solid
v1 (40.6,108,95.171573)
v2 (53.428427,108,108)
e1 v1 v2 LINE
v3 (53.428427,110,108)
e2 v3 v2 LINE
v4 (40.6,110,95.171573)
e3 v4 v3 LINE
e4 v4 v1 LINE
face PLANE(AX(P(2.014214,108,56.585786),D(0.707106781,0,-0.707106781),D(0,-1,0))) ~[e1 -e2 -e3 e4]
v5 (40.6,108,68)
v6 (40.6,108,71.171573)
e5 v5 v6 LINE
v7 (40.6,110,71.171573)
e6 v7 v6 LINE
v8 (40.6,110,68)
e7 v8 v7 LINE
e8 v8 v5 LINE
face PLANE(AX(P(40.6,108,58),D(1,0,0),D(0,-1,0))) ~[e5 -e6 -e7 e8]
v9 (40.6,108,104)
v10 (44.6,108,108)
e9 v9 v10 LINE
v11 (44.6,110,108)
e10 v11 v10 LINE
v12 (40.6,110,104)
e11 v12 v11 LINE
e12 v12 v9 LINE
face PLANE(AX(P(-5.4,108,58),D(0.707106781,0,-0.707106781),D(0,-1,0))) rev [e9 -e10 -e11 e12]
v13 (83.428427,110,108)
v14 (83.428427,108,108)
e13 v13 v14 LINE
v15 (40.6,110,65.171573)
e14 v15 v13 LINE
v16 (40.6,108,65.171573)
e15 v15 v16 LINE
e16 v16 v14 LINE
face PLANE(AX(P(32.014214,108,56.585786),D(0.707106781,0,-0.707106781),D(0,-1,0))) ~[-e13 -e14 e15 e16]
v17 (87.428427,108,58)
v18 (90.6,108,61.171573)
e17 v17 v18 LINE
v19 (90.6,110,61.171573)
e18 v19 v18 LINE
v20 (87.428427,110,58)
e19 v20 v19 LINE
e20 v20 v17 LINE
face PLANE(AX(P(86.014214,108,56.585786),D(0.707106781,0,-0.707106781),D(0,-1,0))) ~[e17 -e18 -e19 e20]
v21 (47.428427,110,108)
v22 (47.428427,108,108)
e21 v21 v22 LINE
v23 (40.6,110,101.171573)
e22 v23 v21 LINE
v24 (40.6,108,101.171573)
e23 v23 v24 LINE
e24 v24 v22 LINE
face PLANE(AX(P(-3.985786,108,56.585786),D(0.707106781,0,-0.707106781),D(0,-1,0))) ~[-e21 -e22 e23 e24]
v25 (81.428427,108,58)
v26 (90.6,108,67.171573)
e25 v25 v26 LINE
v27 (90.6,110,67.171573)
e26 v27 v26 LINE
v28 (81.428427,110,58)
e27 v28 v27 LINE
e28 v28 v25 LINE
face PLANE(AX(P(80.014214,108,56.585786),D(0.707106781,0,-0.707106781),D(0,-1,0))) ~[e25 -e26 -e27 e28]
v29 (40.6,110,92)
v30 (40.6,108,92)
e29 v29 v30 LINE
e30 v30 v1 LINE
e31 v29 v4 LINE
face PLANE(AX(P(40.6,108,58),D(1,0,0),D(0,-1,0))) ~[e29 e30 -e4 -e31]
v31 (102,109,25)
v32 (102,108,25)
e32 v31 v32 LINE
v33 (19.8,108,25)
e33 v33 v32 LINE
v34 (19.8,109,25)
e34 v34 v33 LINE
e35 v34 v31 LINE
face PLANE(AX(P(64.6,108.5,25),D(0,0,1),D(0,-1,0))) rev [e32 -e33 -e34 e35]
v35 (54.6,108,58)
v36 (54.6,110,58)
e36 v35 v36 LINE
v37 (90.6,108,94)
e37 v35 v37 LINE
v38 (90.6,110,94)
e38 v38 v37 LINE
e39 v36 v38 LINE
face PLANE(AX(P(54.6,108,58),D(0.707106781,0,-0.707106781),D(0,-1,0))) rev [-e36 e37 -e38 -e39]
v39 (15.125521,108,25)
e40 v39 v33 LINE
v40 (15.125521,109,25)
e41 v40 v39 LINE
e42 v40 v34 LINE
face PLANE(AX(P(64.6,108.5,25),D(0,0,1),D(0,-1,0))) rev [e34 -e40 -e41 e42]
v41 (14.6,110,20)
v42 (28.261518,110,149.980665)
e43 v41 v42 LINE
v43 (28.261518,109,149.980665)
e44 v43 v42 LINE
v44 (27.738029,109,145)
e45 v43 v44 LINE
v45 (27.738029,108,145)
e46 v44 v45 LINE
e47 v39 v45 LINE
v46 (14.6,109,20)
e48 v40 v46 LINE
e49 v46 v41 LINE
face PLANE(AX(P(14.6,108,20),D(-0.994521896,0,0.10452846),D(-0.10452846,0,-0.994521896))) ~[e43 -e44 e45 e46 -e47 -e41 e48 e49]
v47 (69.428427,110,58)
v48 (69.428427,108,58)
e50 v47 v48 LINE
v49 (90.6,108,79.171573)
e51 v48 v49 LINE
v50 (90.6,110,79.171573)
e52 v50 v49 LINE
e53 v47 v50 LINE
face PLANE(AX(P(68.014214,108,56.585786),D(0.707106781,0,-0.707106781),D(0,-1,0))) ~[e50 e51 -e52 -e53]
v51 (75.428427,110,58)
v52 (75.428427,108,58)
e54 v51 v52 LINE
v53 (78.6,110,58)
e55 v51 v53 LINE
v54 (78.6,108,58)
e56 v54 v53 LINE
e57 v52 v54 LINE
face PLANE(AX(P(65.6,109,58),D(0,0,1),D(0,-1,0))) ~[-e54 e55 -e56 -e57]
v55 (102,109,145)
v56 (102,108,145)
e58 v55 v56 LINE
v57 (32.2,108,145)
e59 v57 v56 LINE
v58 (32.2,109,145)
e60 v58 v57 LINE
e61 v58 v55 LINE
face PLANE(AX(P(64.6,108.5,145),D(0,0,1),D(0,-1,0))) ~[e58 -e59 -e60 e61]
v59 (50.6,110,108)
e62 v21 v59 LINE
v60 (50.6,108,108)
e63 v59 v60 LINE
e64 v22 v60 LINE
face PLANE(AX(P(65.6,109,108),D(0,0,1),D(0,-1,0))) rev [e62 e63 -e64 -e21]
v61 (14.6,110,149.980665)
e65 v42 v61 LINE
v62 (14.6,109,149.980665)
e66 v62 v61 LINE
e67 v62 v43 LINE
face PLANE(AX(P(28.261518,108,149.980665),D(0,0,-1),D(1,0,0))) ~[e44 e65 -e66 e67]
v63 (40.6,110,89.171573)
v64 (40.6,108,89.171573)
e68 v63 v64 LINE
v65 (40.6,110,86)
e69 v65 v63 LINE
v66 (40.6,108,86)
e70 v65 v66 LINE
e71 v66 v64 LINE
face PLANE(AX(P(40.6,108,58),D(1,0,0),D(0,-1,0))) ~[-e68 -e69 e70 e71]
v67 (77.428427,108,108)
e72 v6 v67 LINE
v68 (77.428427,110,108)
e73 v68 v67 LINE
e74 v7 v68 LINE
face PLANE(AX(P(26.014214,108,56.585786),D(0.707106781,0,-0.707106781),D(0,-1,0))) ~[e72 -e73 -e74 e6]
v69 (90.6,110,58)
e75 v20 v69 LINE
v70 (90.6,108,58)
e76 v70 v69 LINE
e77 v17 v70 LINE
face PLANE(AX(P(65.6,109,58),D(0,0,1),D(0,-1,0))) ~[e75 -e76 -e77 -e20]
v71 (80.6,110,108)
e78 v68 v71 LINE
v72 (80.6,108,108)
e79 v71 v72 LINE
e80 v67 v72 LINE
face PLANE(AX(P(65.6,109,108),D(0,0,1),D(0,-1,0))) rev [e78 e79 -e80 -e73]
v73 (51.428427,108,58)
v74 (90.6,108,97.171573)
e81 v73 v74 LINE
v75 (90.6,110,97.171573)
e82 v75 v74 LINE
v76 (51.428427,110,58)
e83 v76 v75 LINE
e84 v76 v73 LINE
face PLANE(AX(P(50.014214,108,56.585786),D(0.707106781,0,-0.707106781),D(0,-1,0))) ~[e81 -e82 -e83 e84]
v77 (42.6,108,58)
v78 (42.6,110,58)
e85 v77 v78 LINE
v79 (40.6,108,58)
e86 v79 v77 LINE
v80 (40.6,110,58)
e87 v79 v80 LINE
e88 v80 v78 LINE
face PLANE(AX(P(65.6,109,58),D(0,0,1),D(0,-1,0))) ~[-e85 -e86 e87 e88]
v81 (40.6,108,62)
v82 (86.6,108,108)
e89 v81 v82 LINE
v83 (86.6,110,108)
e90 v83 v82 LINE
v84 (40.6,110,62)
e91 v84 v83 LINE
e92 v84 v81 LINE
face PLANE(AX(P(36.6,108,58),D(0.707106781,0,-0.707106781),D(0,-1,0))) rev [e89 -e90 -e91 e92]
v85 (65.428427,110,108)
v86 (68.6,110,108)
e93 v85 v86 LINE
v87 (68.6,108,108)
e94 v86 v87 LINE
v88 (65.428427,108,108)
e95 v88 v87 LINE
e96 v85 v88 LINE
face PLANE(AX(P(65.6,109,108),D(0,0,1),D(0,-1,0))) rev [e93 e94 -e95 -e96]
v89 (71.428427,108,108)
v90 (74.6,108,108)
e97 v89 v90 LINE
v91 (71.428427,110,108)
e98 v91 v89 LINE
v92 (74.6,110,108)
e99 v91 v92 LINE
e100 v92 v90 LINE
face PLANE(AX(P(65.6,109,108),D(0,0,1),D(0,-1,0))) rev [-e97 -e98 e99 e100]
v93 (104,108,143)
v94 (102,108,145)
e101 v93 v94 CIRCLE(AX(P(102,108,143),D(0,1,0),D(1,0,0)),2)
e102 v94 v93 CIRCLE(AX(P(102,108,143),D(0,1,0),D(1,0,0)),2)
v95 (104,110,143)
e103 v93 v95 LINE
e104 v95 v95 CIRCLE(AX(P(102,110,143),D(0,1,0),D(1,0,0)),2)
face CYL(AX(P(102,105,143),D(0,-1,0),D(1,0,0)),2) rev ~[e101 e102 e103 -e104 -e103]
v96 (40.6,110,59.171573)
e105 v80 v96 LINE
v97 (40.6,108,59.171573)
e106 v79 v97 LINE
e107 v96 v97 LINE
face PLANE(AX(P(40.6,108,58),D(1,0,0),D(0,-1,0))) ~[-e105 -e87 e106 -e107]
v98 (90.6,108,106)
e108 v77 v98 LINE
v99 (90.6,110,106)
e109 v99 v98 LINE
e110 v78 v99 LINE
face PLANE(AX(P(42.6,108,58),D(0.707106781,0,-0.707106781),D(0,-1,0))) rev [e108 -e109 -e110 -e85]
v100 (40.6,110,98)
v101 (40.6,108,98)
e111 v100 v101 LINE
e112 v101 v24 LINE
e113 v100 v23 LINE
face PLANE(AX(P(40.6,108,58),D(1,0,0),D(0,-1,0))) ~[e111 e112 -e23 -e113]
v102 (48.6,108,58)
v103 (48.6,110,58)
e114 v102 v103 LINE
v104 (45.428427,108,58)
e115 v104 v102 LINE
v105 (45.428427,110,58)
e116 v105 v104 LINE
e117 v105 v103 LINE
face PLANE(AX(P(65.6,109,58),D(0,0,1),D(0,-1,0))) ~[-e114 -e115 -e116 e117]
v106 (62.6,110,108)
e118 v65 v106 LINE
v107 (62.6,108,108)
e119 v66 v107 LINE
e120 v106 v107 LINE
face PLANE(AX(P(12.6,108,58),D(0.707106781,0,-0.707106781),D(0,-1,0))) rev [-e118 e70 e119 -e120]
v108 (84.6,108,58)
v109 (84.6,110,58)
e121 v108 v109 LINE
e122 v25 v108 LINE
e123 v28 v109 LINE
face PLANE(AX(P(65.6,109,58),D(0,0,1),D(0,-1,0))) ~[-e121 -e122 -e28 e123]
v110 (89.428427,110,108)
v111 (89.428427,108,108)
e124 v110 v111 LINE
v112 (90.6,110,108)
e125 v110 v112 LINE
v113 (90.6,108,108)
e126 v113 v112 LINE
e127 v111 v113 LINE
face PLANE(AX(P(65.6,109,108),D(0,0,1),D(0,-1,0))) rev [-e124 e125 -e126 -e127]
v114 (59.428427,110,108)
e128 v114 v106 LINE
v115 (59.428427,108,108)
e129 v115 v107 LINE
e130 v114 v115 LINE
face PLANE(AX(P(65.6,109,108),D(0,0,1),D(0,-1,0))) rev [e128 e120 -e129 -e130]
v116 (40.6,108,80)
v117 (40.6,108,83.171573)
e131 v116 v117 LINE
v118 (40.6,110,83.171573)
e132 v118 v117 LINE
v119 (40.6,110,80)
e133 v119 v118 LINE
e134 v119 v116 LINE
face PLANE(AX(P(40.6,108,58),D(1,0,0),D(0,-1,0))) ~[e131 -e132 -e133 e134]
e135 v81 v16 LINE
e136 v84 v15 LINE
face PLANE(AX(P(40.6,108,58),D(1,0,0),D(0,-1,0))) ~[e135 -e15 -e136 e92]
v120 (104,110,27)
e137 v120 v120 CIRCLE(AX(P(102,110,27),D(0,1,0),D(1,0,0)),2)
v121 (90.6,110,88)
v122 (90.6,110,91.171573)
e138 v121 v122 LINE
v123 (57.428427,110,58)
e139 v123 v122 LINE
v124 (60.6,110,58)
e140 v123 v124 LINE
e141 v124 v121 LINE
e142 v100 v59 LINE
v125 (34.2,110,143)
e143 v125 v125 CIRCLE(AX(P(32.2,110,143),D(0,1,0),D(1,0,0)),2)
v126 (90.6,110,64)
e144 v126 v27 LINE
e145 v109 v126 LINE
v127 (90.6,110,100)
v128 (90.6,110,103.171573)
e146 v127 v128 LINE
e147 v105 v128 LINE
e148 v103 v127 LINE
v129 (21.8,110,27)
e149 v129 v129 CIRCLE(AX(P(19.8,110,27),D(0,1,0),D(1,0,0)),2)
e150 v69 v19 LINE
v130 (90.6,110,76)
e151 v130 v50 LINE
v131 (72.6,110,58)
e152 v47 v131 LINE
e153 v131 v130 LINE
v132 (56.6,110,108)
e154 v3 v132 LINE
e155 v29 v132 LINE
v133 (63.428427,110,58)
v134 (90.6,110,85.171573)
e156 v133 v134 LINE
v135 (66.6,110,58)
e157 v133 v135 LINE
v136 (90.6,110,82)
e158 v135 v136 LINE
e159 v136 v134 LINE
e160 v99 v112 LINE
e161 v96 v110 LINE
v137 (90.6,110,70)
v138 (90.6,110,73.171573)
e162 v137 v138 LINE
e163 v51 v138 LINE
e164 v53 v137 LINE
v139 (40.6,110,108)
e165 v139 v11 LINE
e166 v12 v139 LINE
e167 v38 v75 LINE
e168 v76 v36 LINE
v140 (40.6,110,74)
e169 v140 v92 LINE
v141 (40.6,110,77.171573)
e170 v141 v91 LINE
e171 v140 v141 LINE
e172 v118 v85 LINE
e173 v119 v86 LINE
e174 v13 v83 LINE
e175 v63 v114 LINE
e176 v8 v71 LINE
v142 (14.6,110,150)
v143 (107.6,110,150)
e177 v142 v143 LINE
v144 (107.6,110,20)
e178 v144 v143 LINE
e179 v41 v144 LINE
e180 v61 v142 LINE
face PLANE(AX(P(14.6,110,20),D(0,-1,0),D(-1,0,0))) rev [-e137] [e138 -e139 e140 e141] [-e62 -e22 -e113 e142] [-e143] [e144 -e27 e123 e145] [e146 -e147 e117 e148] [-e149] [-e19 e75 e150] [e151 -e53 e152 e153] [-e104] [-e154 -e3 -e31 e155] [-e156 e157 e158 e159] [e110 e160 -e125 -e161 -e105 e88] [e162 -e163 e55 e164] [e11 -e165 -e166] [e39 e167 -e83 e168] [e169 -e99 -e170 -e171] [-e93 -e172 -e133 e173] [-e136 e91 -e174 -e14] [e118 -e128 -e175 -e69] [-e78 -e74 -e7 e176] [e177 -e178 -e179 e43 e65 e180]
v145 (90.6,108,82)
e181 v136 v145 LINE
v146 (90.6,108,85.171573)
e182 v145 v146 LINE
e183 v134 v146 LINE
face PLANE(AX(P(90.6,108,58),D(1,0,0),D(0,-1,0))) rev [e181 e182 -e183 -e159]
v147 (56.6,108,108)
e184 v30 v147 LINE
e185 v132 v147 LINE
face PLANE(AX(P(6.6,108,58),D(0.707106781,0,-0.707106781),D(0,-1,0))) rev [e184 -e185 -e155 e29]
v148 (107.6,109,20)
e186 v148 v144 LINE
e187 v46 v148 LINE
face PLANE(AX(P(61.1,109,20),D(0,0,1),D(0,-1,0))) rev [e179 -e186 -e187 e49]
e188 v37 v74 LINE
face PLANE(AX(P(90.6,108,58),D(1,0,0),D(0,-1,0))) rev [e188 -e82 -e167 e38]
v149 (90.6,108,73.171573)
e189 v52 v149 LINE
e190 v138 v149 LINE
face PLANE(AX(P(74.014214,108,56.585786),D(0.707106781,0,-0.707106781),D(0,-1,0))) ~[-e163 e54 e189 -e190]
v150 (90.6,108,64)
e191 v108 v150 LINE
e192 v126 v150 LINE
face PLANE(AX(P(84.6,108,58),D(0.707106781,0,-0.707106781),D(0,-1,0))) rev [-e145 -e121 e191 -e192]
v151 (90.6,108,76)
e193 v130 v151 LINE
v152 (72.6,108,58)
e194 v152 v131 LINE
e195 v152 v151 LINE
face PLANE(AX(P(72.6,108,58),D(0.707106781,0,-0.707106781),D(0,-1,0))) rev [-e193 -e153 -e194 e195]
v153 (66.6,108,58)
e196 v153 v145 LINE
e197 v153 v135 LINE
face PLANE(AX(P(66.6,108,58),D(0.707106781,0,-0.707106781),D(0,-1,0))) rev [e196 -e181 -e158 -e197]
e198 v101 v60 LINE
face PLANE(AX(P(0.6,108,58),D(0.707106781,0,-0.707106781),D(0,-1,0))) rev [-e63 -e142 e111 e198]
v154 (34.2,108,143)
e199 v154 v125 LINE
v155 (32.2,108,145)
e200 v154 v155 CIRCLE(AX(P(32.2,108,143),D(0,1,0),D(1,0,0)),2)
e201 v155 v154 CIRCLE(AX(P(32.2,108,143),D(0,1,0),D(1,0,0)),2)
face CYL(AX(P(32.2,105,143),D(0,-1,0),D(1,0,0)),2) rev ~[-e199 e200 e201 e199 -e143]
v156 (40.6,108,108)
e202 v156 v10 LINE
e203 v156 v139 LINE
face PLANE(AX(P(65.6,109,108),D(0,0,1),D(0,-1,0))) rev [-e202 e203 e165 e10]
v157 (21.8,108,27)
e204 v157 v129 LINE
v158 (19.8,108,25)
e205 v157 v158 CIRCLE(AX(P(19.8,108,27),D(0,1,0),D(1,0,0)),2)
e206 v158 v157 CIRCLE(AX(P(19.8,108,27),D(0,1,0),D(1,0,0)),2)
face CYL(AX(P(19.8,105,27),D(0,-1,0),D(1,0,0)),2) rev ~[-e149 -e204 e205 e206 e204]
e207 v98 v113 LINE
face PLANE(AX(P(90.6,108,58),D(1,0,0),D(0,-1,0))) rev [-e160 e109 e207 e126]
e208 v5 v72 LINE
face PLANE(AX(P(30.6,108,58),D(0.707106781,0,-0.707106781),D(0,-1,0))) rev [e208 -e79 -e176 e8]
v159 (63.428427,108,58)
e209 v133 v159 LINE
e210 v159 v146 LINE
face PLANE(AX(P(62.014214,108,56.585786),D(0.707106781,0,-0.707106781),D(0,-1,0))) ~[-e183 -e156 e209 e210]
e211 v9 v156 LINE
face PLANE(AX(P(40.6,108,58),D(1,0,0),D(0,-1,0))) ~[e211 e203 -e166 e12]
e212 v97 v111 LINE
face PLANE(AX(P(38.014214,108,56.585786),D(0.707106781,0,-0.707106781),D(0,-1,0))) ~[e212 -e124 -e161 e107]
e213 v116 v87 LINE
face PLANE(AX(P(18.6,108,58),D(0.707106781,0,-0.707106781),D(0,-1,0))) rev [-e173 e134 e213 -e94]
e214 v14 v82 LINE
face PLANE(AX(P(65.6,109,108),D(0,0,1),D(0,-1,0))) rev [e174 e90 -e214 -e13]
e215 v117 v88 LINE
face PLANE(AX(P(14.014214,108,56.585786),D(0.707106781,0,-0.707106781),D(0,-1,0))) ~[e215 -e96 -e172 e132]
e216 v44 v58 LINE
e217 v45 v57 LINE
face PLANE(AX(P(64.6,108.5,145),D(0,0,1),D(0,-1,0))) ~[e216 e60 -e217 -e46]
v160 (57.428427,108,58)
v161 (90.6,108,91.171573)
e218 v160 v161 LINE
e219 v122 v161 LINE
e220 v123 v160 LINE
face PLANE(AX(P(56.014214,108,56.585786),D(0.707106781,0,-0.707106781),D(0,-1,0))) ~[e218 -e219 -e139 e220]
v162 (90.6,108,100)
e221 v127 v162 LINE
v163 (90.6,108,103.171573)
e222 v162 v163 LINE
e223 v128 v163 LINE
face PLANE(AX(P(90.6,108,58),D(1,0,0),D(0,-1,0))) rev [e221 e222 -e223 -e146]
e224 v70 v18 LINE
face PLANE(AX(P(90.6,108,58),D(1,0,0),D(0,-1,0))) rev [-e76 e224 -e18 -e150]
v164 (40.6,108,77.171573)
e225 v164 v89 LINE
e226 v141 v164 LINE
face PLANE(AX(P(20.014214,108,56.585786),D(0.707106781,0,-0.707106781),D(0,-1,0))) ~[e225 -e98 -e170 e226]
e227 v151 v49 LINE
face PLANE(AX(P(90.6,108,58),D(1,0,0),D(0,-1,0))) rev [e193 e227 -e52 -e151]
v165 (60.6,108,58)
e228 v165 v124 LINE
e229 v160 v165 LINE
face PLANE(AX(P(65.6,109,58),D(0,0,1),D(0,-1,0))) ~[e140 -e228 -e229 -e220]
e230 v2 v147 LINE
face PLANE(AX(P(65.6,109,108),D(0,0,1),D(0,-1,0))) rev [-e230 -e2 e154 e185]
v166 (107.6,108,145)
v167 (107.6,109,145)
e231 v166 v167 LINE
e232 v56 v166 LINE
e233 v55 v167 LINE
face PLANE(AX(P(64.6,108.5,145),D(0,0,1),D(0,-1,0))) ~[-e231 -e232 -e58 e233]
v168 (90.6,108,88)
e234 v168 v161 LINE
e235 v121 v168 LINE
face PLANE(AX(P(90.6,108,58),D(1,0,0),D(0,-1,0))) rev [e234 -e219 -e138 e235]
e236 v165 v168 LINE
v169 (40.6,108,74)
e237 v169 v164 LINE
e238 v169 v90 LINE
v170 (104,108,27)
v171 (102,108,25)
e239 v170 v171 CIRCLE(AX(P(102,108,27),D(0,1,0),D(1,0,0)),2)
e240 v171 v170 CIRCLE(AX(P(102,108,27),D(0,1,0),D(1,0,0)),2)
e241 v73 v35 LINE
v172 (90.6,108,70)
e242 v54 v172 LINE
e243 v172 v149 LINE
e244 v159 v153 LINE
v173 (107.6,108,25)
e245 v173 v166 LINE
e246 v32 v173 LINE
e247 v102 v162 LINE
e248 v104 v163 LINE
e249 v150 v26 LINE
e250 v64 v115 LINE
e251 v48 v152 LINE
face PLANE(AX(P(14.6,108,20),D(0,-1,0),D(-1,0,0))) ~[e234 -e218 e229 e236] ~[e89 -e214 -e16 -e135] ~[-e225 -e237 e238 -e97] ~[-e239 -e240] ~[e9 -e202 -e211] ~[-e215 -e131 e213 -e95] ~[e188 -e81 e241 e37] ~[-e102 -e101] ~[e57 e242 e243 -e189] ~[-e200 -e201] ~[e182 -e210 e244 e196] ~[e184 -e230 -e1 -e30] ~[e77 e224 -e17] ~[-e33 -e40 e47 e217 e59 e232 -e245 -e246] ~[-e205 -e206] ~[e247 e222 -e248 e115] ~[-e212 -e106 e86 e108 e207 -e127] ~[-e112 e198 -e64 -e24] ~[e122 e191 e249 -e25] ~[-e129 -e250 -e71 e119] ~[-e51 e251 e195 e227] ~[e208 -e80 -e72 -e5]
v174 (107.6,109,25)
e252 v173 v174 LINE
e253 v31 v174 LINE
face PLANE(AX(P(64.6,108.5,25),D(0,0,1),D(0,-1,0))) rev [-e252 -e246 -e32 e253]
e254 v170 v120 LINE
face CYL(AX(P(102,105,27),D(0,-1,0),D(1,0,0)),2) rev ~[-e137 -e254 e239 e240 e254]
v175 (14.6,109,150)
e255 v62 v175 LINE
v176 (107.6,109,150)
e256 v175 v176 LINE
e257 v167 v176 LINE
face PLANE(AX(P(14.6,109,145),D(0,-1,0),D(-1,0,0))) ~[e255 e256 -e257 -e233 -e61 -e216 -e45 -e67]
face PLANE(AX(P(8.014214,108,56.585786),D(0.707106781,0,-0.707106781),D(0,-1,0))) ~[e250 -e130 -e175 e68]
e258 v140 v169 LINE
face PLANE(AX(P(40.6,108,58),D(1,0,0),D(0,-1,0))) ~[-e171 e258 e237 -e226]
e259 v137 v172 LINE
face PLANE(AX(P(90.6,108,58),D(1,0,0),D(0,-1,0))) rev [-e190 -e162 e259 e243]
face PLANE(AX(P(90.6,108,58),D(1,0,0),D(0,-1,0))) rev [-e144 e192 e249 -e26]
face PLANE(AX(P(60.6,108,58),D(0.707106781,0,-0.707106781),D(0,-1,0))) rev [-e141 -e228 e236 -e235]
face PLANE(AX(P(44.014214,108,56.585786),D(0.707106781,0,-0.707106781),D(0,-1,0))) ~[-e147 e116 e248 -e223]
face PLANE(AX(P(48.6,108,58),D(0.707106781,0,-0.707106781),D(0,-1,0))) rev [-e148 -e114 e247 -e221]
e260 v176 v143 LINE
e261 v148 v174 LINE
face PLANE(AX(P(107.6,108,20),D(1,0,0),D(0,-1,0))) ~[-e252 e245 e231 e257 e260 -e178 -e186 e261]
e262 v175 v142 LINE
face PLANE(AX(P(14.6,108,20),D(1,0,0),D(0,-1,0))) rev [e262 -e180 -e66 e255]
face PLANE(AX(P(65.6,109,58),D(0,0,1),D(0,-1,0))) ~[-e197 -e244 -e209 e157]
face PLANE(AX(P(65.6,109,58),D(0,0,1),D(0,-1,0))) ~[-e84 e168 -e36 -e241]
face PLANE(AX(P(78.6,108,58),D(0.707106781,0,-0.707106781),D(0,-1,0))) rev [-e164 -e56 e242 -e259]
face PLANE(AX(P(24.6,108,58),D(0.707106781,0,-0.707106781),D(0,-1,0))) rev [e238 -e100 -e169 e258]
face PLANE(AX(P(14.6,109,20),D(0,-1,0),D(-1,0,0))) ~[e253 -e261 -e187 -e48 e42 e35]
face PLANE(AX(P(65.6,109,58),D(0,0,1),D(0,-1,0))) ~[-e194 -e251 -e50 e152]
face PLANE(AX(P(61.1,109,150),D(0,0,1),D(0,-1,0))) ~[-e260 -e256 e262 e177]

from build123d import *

# Parameters (mm, degrees)
CYLINDER074_R          = 2
CYLINDER074_DEPTH      = 10
CYLINDER073_R          = 2
CYLINDER073_DEPTH      = 10
CYLINDER075_R          = 2
CYLINDER075_DEPTH      = 10
CYLINDER076_R          = 2
CYLINDER076_DEPTH      = 10
BOX103_W               = 1
BOX103_H               = 100
BOX103_DEPTH           = 5
BOX102_W               = 1
BOX102_H               = 100
BOX102_DEPTH           = 5
BOX100_W               = 2
BOX100_H               = 2
BOX100_DEPTH           = 80
BOX100_PLACEMENT_ANGLE = 45
BOX101_W               = 2
BOX101_H               = 2
BOX101_DEPTH           = 80
BOX101_PLACEMENT_ANGLE = 45
BOX097_W               = 2
BOX097_H               = 2
BOX097_DEPTH           = 80
BOX097_PLACEMENT_ANGLE = 45
BOX096_W               = 2
BOX096_H               = 2
BOX096_DEPTH           = 80
BOX096_PLACEMENT_ANGLE = 45
BOX095_W               = 2
BOX095_H               = 2
BOX095_DEPTH           = 80
BOX095_PLACEMENT_ANGLE = 45
BOX094_W               = 2
BOX094_H               = 2
BOX094_DEPTH           = 80
BOX094_PLACEMENT_ANGLE = 45
BOX093_W               = 2
BOX093_H               = 2
BOX093_DEPTH           = 80
BOX093_PLACEMENT_ANGLE = 45
BOX092_W               = 2
BOX092_H               = 2
BOX092_DEPTH           = 80
BOX092_PLACEMENT_ANGLE = 45
BOX091_W               = 2
BOX091_H               = 2
BOX091_DEPTH           = 80
BOX091_PLACEMENT_ANGLE = 45
BOX090_W               = 2
BOX090_H               = 2
BOX090_DEPTH           = 80
BOX090_PLACEMENT_ANGLE = 45
BOX089_W               = 2
BOX089_H               = 2
BOX089_DEPTH           = 80
BOX089_PLACEMENT_ANGLE = 45
BOX088_W               = 2
BOX088_H               = 2
BOX088_DEPTH           = 80
BOX088_PLACEMENT_ANGLE = 45
BOX087_W               = 2
BOX087_H               = 2
BOX087_DEPTH           = 80
BOX087_PLACEMENT_ANGLE = 45
BOX086_W               = 2
BOX086_H               = 2
BOX086_DEPTH           = 80
BOX086_PLACEMENT_ANGLE = 45
BOX084_W               = 2
BOX084_H               = 2
BOX084_DEPTH           = 80
BOX084_PLACEMENT_ANGLE = 45
BOX085_W               = 2
BOX085_H               = 2
BOX085_DEPTH           = 80
BOX085_PLACEMENT_ANGLE = 45
BOX099_W               = 2
BOX099_H               = 2
BOX099_DEPTH           = 80
BOX099_PLACEMENT_ANGLE = 45
BOX098_W               = 2
BOX098_H               = 50
BOX098_DEPTH           = 50
PAD014_DEPTH           = 5
BOX083_W               = 2
BOX083_H               = 93
BOX083_DEPTH           = 130
CUT076_PLACEMENT_ANGLE = 90


with BuildPart() as cylinder043:
    # Cylinder074 → Cylinder074 (new body)
    with BuildSketch(Plane(origin=(102, 0, 27), x_dir=(1, 0, 0), z_dir=(0, -1, 0))):
        Circle(CYLINDER074_R)
    extrude(amount=CYLINDER074_DEPTH)


with BuildPart() as cylinder042:
    # Cylinder073 → Cylinder073 (new body)
    with BuildSketch(Plane(origin=(19.8, 0, 27), x_dir=(1, 0, 0), z_dir=(0, -1, 0))):
        Circle(CYLINDER073_R)
    extrude(amount=CYLINDER073_DEPTH)


with BuildPart() as cylinder044:
    # Cylinder075 → Cylinder075 (new body)
    with BuildSketch(Plane(origin=(102, 0, 143), x_dir=(1, 0, 0), z_dir=(0, -1, 0))):
        Circle(CYLINDER075_R)
    extrude(amount=CYLINDER075_DEPTH)


with BuildPart() as loecher:
    # Cylinder076 → Cylinder076 (new body)
    with BuildSketch(Plane(origin=(32.2, 0, 143), x_dir=(1, 0, 0), z_dir=(0, -1, 0))):
        Circle(CYLINDER076_R)
    extrude(amount=CYLINDER076_DEPTH)

    # Fusion045: union Cylinder043, Cylinder042, Cylinder044
    add(cylinder043.part)
    add(cylinder042.part)
    add(cylinder044.part)


with BuildPart() as loecher_1:
    # Fusion045 placement: moved
    add(loecher.part.moved(Location((0, 5, 0))))


with BuildPart() as cube094:
    # Box103 → Box103 (new body)
    with BuildSketch(Plane.XY.offset(125)):
        with Locations((0.5, 50)):
            Rectangle(BOX103_W, BOX103_H)
    extrude(amount=BOX103_DEPTH)


with BuildPart() as anschlag:
    # Box102 → Box102 (new body)
    with BuildSketch(Plane.XY):
        with Locations((0.5, 50)):
            Rectangle(BOX102_W, BOX102_H)
    extrude(amount=BOX102_DEPTH)

    # Fusion044: union Cube094
    add(cube094.part)


with BuildPart() as cube091:
    # Box100 → Box100 (new body)
    with BuildSketch(Plane.XY):
        with Locations((1, 1)):
            Rectangle(BOX100_W, BOX100_H)
    extrude(amount=BOX100_DEPTH)


with BuildPart() as cube091_1:
    # Box100 placement: moved
    add(cube091.part.moved(Location((0, 90, 0))).rotate(Axis((0, 90, 0), (-1, 0, 0)), BOX100_PLACEMENT_ANGLE))


with BuildPart() as cube092:
    # Box101 → Box101 (new body)
    with BuildSketch(Plane.XY):
        with Locations((1, 1)):
            Rectangle(BOX101_W, BOX101_H)
    extrude(amount=BOX101_DEPTH)


with BuildPart() as cube092_1:
    # Box101 placement: moved
    add(cube092.part.moved(Location((0, 96, 0))).rotate(Axis((0, 96, 0), (-1, 0, 0)), BOX101_PLACEMENT_ANGLE))


with BuildPart() as cube088:
    # Box097 → Box097 (new body)
    with BuildSketch(Plane.XY):
        with Locations((1, 1)):
            Rectangle(BOX097_W, BOX097_H)
    extrude(amount=BOX097_DEPTH)


with BuildPart() as cube088_1:
    # Box097 placement: moved
    add(cube088.part.moved(Location((0, 78, 0))).rotate(Axis((0, 78, 0), (-1, 0, 0)), BOX097_PLACEMENT_ANGLE))


with BuildPart() as cube087:
    # Box096 → Box096 (new body)
    with BuildSketch(Plane.XY):
        with Locations((1, 1)):
            Rectangle(BOX096_W, BOX096_H)
    extrude(amount=BOX096_DEPTH)


with BuildPart() as cube087_1:
    # Box096 placement: moved
    add(cube087.part.moved(Location((0, 72, 0))).rotate(Axis((0, 72, 0), (-1, 0, 0)), BOX096_PLACEMENT_ANGLE))


with BuildPart() as cube086:
    # Box095 → Box095 (new body)
    with BuildSketch(Plane.XY):
        with Locations((1, 1)):
            Rectangle(BOX095_W, BOX095_H)
    extrude(amount=BOX095_DEPTH)


with BuildPart() as cube086_1:
    # Box095 placement: moved
    add(cube086.part.moved(Location((0, 66, 0))).rotate(Axis((0, 66, 0), (-1, 0, 0)), BOX095_PLACEMENT_ANGLE))


with BuildPart() as cube085:
    # Box094 → Box094 (new body)
    with BuildSketch(Plane.XY):
        with Locations((1, 1)):
            Rectangle(BOX094_W, BOX094_H)
    extrude(amount=BOX094_DEPTH)


with BuildPart() as cube085_1:
    # Box094 placement: moved
    add(cube085.part.moved(Location((0, 60, 0))).rotate(Axis((0, 60, 0), (-1, 0, 0)), BOX094_PLACEMENT_ANGLE))


with BuildPart() as cube084:
    # Box093 → Box093 (new body)
    with BuildSketch(Plane.XY):
        with Locations((1, 1)):
            Rectangle(BOX093_W, BOX093_H)
    extrude(amount=BOX093_DEPTH)


with BuildPart() as cube084_1:
    # Box093 placement: moved
    add(cube084.part.moved(Location((0, 54, 0))).rotate(Axis((0, 54, 0), (-1, 0, 0)), BOX093_PLACEMENT_ANGLE))


with BuildPart() as cube083:
    # Box092 → Box092 (new body)
    with BuildSketch(Plane.XY):
        with Locations((1, 1)):
            Rectangle(BOX092_W, BOX092_H)
    extrude(amount=BOX092_DEPTH)


with BuildPart() as cube083_1:
    # Box092 placement: moved
    add(cube083.part.moved(Location((0, 48, 0))).rotate(Axis((0, 48, 0), (-1, 0, 0)), BOX092_PLACEMENT_ANGLE))


with BuildPart() as cube082:
    # Box091 → Box091 (new body)
    with BuildSketch(Plane.XY):
        with Locations((1, 1)):
            Rectangle(BOX091_W, BOX091_H)
    extrude(amount=BOX091_DEPTH)


with BuildPart() as cube082_1:
    # Box091 placement: moved
    add(cube082.part.moved(Location((0, 42, 0))).rotate(Axis((0, 42, 0), (-1, 0, 0)), BOX091_PLACEMENT_ANGLE))


with BuildPart() as cube081:
    # Box090 → Box090 (new body)
    with BuildSketch(Plane.XY):
        with Locations((1, 1)):
            Rectangle(BOX090_W, BOX090_H)
    extrude(amount=BOX090_DEPTH)


with BuildPart() as cube081_1:
    # Box090 placement: moved
    add(cube081.part.moved(Location((0, 36, 0))).rotate(Axis((0, 36, 0), (-1, 0, 0)), BOX090_PLACEMENT_ANGLE))


with BuildPart() as cube080:
    # Box089 → Box089 (new body)
    with BuildSketch(Plane.XY):
        with Locations((1, 1)):
            Rectangle(BOX089_W, BOX089_H)
    extrude(amount=BOX089_DEPTH)


with BuildPart() as cube080_1:
    # Box089 placement: moved
    add(cube080.part.moved(Location((0, 30, 0))).rotate(Axis((0, 30, 0), (-1, 0, 0)), BOX089_PLACEMENT_ANGLE))


with BuildPart() as cube079:
    # Box088 → Box088 (new body)
    with BuildSketch(Plane.XY):
        with Locations((1, 1)):
            Rectangle(BOX088_W, BOX088_H)
    extrude(amount=BOX088_DEPTH)


with BuildPart() as cube079_1:
    # Box088 placement: moved
    add(cube079.part.moved(Location((0, 24, 0))).rotate(Axis((0, 24, 0), (-1, 0, 0)), BOX088_PLACEMENT_ANGLE))


with BuildPart() as cube078:
    # Box087 → Box087 (new body)
    with BuildSketch(Plane.XY):
        with Locations((1, 1)):
            Rectangle(BOX087_W, BOX087_H)
    extrude(amount=BOX087_DEPTH)


with BuildPart() as cube078_1:
    # Box087 placement: moved
    add(cube078.part.moved(Location((0, 18, 0))).rotate(Axis((0, 18, 0), (-1, 0, 0)), BOX087_PLACEMENT_ANGLE))


with BuildPart() as cube077:
    # Box086 → Box086 (new body)
    with BuildSketch(Plane.XY):
        with Locations((1, 1)):
            Rectangle(BOX086_W, BOX086_H)
    extrude(amount=BOX086_DEPTH)


with BuildPart() as cube077_1:
    # Box086 placement: moved
    add(cube077.part.moved(Location((0, 12, 0))).rotate(Axis((0, 12, 0), (-1, 0, 0)), BOX086_PLACEMENT_ANGLE))


with BuildPart() as cube075:
    # Box084 → Box084 (new body)
    with BuildSketch(Plane.XY):
        with Locations((1, 1)):
            Rectangle(BOX084_W, BOX084_H)
    extrude(amount=BOX084_DEPTH)


with BuildPart() as cube075_1:
    # Box084 placement: moved
    add(cube075.part.rotate(Axis((0, 0, 0), (-1, 0, 0)), BOX084_PLACEMENT_ANGLE))


with BuildPart() as cube076:
    # Box085 → Box085 (new body)
    with BuildSketch(Plane.XY):
        with Locations((1, 1)):
            Rectangle(BOX085_W, BOX085_H)
    extrude(amount=BOX085_DEPTH)


with BuildPart() as cube076_1:
    # Box085 placement: moved
    add(cube076.part.moved(Location((0, 6, 0))).rotate(Axis((0, 6, 0), (-1, 0, 0)), BOX085_PLACEMENT_ANGLE))


with BuildPart() as fusion043:
    # Box099 → Box099 (new body)
    with BuildSketch(Plane.XY):
        with Locations((1, 1)):
            Rectangle(BOX099_W, BOX099_H)
    extrude(amount=BOX099_DEPTH)


with BuildPart() as fusion043_1:
    # Box099 placement: moved
    add(fusion043.part.moved(Location((0, 84, 0))).rotate(Axis((0, 84, 0), (-1, 0, 0)), BOX099_PLACEMENT_ANGLE))

    # Fusion043: union Cube091, Cube092, Cube088, Cube087, Cube086, Cube085, Cube084, Cube083, Cube082, Cube081, Cube080, Cube079, Cube078, Cube077, Cube075, Cube076
    add(cube091_1.part)
    add(cube092_1.part)
    add(cube088_1.part)
    add(cube087_1.part)
    add(cube086_1.part)
    add(cube085_1.part)
    add(cube084_1.part)
    add(cube083_1.part)
    add(cube082_1.part)
    add(cube081_1.part)
    add(cube080_1.part)
    add(cube079_1.part)
    add(cube078_1.part)
    add(cube077_1.part)
    add(cube075_1.part)
    add(cube076_1.part)


with BuildPart() as schlitze:
    # Box098 → Box098 (new body)
    with BuildSketch(Plane(origin=(0, 46, 0), x_dir=(1, 0, 0), z_dir=(0, 0, 1))):
        with Locations((1, 25)):
            Rectangle(BOX098_W, BOX098_H)
    extrude(amount=BOX098_DEPTH)

    # Cut074: cut Fusion043
    add(fusion043_1.part, mode=Mode.SUBTRACT)


with BuildPart() as schlitze_1:
    # Cut074 placement: moved
    add(schlitze.part.moved(Location((0, -20, 38))))


with BuildPart() as pad014:
    # Sketch021 → Pad014 (new body)
    with BuildSketch(Plane.YZ):
        Polygon((0, 0), (13.661518, 129.980665), (0, 129.980665), align=None)
    extrude(amount=PAD014_DEPTH)


with BuildPart() as seitenw_schlitze_anschl_loecher:
    # Box083 → Box083 (new body)
    with BuildSketch(Plane.XY):
        with Locations((1, 46.5)):
            Rectangle(BOX083_W, BOX083_H)
    extrude(amount=BOX083_DEPTH)

    # Cut073: cut Pad014
    add(pad014.part, mode=Mode.SUBTRACT)

    # Cut075: cut Schlitze
    add(schlitze_1.part, mode=Mode.SUBTRACT)

    # Cut076: cut Anschlag
    add(anschlag.part, mode=Mode.SUBTRACT)


with BuildPart() as seitenw_schlitze_anschl_loecher_1:
    # Cut076 placement: moved
    add(seitenw_schlitze_anschl_loecher.part.moved(Location((14.6, 2, 20))).rotate(Axis((14.6, 2, 20), (0, 0, -1)), CUT076_PLACEMENT_ANGLE))

    # Cut077: cut Loecher
    add(loecher_1.part, mode=Mode.SUBTRACT)


with BuildPart() as part_mirroring011:
    # Part__Mirroring011: instance of Seitenw_Schlitze_Anschl_Loecher
    add(seitenw_schlitze_anschl_loecher_1.part.mirror(Plane(origin=(0, 0, 0), x_dir=(1, 0, 0), z_dir=(0, 1, 0))))


with BuildPart() as part_mirroring011_1:
    # Part__Mirroring011 placement: moved
    add(part_mirroring011.part.moved(Location((0, 110, 0))))


solid = part_mirroring011_1.part
